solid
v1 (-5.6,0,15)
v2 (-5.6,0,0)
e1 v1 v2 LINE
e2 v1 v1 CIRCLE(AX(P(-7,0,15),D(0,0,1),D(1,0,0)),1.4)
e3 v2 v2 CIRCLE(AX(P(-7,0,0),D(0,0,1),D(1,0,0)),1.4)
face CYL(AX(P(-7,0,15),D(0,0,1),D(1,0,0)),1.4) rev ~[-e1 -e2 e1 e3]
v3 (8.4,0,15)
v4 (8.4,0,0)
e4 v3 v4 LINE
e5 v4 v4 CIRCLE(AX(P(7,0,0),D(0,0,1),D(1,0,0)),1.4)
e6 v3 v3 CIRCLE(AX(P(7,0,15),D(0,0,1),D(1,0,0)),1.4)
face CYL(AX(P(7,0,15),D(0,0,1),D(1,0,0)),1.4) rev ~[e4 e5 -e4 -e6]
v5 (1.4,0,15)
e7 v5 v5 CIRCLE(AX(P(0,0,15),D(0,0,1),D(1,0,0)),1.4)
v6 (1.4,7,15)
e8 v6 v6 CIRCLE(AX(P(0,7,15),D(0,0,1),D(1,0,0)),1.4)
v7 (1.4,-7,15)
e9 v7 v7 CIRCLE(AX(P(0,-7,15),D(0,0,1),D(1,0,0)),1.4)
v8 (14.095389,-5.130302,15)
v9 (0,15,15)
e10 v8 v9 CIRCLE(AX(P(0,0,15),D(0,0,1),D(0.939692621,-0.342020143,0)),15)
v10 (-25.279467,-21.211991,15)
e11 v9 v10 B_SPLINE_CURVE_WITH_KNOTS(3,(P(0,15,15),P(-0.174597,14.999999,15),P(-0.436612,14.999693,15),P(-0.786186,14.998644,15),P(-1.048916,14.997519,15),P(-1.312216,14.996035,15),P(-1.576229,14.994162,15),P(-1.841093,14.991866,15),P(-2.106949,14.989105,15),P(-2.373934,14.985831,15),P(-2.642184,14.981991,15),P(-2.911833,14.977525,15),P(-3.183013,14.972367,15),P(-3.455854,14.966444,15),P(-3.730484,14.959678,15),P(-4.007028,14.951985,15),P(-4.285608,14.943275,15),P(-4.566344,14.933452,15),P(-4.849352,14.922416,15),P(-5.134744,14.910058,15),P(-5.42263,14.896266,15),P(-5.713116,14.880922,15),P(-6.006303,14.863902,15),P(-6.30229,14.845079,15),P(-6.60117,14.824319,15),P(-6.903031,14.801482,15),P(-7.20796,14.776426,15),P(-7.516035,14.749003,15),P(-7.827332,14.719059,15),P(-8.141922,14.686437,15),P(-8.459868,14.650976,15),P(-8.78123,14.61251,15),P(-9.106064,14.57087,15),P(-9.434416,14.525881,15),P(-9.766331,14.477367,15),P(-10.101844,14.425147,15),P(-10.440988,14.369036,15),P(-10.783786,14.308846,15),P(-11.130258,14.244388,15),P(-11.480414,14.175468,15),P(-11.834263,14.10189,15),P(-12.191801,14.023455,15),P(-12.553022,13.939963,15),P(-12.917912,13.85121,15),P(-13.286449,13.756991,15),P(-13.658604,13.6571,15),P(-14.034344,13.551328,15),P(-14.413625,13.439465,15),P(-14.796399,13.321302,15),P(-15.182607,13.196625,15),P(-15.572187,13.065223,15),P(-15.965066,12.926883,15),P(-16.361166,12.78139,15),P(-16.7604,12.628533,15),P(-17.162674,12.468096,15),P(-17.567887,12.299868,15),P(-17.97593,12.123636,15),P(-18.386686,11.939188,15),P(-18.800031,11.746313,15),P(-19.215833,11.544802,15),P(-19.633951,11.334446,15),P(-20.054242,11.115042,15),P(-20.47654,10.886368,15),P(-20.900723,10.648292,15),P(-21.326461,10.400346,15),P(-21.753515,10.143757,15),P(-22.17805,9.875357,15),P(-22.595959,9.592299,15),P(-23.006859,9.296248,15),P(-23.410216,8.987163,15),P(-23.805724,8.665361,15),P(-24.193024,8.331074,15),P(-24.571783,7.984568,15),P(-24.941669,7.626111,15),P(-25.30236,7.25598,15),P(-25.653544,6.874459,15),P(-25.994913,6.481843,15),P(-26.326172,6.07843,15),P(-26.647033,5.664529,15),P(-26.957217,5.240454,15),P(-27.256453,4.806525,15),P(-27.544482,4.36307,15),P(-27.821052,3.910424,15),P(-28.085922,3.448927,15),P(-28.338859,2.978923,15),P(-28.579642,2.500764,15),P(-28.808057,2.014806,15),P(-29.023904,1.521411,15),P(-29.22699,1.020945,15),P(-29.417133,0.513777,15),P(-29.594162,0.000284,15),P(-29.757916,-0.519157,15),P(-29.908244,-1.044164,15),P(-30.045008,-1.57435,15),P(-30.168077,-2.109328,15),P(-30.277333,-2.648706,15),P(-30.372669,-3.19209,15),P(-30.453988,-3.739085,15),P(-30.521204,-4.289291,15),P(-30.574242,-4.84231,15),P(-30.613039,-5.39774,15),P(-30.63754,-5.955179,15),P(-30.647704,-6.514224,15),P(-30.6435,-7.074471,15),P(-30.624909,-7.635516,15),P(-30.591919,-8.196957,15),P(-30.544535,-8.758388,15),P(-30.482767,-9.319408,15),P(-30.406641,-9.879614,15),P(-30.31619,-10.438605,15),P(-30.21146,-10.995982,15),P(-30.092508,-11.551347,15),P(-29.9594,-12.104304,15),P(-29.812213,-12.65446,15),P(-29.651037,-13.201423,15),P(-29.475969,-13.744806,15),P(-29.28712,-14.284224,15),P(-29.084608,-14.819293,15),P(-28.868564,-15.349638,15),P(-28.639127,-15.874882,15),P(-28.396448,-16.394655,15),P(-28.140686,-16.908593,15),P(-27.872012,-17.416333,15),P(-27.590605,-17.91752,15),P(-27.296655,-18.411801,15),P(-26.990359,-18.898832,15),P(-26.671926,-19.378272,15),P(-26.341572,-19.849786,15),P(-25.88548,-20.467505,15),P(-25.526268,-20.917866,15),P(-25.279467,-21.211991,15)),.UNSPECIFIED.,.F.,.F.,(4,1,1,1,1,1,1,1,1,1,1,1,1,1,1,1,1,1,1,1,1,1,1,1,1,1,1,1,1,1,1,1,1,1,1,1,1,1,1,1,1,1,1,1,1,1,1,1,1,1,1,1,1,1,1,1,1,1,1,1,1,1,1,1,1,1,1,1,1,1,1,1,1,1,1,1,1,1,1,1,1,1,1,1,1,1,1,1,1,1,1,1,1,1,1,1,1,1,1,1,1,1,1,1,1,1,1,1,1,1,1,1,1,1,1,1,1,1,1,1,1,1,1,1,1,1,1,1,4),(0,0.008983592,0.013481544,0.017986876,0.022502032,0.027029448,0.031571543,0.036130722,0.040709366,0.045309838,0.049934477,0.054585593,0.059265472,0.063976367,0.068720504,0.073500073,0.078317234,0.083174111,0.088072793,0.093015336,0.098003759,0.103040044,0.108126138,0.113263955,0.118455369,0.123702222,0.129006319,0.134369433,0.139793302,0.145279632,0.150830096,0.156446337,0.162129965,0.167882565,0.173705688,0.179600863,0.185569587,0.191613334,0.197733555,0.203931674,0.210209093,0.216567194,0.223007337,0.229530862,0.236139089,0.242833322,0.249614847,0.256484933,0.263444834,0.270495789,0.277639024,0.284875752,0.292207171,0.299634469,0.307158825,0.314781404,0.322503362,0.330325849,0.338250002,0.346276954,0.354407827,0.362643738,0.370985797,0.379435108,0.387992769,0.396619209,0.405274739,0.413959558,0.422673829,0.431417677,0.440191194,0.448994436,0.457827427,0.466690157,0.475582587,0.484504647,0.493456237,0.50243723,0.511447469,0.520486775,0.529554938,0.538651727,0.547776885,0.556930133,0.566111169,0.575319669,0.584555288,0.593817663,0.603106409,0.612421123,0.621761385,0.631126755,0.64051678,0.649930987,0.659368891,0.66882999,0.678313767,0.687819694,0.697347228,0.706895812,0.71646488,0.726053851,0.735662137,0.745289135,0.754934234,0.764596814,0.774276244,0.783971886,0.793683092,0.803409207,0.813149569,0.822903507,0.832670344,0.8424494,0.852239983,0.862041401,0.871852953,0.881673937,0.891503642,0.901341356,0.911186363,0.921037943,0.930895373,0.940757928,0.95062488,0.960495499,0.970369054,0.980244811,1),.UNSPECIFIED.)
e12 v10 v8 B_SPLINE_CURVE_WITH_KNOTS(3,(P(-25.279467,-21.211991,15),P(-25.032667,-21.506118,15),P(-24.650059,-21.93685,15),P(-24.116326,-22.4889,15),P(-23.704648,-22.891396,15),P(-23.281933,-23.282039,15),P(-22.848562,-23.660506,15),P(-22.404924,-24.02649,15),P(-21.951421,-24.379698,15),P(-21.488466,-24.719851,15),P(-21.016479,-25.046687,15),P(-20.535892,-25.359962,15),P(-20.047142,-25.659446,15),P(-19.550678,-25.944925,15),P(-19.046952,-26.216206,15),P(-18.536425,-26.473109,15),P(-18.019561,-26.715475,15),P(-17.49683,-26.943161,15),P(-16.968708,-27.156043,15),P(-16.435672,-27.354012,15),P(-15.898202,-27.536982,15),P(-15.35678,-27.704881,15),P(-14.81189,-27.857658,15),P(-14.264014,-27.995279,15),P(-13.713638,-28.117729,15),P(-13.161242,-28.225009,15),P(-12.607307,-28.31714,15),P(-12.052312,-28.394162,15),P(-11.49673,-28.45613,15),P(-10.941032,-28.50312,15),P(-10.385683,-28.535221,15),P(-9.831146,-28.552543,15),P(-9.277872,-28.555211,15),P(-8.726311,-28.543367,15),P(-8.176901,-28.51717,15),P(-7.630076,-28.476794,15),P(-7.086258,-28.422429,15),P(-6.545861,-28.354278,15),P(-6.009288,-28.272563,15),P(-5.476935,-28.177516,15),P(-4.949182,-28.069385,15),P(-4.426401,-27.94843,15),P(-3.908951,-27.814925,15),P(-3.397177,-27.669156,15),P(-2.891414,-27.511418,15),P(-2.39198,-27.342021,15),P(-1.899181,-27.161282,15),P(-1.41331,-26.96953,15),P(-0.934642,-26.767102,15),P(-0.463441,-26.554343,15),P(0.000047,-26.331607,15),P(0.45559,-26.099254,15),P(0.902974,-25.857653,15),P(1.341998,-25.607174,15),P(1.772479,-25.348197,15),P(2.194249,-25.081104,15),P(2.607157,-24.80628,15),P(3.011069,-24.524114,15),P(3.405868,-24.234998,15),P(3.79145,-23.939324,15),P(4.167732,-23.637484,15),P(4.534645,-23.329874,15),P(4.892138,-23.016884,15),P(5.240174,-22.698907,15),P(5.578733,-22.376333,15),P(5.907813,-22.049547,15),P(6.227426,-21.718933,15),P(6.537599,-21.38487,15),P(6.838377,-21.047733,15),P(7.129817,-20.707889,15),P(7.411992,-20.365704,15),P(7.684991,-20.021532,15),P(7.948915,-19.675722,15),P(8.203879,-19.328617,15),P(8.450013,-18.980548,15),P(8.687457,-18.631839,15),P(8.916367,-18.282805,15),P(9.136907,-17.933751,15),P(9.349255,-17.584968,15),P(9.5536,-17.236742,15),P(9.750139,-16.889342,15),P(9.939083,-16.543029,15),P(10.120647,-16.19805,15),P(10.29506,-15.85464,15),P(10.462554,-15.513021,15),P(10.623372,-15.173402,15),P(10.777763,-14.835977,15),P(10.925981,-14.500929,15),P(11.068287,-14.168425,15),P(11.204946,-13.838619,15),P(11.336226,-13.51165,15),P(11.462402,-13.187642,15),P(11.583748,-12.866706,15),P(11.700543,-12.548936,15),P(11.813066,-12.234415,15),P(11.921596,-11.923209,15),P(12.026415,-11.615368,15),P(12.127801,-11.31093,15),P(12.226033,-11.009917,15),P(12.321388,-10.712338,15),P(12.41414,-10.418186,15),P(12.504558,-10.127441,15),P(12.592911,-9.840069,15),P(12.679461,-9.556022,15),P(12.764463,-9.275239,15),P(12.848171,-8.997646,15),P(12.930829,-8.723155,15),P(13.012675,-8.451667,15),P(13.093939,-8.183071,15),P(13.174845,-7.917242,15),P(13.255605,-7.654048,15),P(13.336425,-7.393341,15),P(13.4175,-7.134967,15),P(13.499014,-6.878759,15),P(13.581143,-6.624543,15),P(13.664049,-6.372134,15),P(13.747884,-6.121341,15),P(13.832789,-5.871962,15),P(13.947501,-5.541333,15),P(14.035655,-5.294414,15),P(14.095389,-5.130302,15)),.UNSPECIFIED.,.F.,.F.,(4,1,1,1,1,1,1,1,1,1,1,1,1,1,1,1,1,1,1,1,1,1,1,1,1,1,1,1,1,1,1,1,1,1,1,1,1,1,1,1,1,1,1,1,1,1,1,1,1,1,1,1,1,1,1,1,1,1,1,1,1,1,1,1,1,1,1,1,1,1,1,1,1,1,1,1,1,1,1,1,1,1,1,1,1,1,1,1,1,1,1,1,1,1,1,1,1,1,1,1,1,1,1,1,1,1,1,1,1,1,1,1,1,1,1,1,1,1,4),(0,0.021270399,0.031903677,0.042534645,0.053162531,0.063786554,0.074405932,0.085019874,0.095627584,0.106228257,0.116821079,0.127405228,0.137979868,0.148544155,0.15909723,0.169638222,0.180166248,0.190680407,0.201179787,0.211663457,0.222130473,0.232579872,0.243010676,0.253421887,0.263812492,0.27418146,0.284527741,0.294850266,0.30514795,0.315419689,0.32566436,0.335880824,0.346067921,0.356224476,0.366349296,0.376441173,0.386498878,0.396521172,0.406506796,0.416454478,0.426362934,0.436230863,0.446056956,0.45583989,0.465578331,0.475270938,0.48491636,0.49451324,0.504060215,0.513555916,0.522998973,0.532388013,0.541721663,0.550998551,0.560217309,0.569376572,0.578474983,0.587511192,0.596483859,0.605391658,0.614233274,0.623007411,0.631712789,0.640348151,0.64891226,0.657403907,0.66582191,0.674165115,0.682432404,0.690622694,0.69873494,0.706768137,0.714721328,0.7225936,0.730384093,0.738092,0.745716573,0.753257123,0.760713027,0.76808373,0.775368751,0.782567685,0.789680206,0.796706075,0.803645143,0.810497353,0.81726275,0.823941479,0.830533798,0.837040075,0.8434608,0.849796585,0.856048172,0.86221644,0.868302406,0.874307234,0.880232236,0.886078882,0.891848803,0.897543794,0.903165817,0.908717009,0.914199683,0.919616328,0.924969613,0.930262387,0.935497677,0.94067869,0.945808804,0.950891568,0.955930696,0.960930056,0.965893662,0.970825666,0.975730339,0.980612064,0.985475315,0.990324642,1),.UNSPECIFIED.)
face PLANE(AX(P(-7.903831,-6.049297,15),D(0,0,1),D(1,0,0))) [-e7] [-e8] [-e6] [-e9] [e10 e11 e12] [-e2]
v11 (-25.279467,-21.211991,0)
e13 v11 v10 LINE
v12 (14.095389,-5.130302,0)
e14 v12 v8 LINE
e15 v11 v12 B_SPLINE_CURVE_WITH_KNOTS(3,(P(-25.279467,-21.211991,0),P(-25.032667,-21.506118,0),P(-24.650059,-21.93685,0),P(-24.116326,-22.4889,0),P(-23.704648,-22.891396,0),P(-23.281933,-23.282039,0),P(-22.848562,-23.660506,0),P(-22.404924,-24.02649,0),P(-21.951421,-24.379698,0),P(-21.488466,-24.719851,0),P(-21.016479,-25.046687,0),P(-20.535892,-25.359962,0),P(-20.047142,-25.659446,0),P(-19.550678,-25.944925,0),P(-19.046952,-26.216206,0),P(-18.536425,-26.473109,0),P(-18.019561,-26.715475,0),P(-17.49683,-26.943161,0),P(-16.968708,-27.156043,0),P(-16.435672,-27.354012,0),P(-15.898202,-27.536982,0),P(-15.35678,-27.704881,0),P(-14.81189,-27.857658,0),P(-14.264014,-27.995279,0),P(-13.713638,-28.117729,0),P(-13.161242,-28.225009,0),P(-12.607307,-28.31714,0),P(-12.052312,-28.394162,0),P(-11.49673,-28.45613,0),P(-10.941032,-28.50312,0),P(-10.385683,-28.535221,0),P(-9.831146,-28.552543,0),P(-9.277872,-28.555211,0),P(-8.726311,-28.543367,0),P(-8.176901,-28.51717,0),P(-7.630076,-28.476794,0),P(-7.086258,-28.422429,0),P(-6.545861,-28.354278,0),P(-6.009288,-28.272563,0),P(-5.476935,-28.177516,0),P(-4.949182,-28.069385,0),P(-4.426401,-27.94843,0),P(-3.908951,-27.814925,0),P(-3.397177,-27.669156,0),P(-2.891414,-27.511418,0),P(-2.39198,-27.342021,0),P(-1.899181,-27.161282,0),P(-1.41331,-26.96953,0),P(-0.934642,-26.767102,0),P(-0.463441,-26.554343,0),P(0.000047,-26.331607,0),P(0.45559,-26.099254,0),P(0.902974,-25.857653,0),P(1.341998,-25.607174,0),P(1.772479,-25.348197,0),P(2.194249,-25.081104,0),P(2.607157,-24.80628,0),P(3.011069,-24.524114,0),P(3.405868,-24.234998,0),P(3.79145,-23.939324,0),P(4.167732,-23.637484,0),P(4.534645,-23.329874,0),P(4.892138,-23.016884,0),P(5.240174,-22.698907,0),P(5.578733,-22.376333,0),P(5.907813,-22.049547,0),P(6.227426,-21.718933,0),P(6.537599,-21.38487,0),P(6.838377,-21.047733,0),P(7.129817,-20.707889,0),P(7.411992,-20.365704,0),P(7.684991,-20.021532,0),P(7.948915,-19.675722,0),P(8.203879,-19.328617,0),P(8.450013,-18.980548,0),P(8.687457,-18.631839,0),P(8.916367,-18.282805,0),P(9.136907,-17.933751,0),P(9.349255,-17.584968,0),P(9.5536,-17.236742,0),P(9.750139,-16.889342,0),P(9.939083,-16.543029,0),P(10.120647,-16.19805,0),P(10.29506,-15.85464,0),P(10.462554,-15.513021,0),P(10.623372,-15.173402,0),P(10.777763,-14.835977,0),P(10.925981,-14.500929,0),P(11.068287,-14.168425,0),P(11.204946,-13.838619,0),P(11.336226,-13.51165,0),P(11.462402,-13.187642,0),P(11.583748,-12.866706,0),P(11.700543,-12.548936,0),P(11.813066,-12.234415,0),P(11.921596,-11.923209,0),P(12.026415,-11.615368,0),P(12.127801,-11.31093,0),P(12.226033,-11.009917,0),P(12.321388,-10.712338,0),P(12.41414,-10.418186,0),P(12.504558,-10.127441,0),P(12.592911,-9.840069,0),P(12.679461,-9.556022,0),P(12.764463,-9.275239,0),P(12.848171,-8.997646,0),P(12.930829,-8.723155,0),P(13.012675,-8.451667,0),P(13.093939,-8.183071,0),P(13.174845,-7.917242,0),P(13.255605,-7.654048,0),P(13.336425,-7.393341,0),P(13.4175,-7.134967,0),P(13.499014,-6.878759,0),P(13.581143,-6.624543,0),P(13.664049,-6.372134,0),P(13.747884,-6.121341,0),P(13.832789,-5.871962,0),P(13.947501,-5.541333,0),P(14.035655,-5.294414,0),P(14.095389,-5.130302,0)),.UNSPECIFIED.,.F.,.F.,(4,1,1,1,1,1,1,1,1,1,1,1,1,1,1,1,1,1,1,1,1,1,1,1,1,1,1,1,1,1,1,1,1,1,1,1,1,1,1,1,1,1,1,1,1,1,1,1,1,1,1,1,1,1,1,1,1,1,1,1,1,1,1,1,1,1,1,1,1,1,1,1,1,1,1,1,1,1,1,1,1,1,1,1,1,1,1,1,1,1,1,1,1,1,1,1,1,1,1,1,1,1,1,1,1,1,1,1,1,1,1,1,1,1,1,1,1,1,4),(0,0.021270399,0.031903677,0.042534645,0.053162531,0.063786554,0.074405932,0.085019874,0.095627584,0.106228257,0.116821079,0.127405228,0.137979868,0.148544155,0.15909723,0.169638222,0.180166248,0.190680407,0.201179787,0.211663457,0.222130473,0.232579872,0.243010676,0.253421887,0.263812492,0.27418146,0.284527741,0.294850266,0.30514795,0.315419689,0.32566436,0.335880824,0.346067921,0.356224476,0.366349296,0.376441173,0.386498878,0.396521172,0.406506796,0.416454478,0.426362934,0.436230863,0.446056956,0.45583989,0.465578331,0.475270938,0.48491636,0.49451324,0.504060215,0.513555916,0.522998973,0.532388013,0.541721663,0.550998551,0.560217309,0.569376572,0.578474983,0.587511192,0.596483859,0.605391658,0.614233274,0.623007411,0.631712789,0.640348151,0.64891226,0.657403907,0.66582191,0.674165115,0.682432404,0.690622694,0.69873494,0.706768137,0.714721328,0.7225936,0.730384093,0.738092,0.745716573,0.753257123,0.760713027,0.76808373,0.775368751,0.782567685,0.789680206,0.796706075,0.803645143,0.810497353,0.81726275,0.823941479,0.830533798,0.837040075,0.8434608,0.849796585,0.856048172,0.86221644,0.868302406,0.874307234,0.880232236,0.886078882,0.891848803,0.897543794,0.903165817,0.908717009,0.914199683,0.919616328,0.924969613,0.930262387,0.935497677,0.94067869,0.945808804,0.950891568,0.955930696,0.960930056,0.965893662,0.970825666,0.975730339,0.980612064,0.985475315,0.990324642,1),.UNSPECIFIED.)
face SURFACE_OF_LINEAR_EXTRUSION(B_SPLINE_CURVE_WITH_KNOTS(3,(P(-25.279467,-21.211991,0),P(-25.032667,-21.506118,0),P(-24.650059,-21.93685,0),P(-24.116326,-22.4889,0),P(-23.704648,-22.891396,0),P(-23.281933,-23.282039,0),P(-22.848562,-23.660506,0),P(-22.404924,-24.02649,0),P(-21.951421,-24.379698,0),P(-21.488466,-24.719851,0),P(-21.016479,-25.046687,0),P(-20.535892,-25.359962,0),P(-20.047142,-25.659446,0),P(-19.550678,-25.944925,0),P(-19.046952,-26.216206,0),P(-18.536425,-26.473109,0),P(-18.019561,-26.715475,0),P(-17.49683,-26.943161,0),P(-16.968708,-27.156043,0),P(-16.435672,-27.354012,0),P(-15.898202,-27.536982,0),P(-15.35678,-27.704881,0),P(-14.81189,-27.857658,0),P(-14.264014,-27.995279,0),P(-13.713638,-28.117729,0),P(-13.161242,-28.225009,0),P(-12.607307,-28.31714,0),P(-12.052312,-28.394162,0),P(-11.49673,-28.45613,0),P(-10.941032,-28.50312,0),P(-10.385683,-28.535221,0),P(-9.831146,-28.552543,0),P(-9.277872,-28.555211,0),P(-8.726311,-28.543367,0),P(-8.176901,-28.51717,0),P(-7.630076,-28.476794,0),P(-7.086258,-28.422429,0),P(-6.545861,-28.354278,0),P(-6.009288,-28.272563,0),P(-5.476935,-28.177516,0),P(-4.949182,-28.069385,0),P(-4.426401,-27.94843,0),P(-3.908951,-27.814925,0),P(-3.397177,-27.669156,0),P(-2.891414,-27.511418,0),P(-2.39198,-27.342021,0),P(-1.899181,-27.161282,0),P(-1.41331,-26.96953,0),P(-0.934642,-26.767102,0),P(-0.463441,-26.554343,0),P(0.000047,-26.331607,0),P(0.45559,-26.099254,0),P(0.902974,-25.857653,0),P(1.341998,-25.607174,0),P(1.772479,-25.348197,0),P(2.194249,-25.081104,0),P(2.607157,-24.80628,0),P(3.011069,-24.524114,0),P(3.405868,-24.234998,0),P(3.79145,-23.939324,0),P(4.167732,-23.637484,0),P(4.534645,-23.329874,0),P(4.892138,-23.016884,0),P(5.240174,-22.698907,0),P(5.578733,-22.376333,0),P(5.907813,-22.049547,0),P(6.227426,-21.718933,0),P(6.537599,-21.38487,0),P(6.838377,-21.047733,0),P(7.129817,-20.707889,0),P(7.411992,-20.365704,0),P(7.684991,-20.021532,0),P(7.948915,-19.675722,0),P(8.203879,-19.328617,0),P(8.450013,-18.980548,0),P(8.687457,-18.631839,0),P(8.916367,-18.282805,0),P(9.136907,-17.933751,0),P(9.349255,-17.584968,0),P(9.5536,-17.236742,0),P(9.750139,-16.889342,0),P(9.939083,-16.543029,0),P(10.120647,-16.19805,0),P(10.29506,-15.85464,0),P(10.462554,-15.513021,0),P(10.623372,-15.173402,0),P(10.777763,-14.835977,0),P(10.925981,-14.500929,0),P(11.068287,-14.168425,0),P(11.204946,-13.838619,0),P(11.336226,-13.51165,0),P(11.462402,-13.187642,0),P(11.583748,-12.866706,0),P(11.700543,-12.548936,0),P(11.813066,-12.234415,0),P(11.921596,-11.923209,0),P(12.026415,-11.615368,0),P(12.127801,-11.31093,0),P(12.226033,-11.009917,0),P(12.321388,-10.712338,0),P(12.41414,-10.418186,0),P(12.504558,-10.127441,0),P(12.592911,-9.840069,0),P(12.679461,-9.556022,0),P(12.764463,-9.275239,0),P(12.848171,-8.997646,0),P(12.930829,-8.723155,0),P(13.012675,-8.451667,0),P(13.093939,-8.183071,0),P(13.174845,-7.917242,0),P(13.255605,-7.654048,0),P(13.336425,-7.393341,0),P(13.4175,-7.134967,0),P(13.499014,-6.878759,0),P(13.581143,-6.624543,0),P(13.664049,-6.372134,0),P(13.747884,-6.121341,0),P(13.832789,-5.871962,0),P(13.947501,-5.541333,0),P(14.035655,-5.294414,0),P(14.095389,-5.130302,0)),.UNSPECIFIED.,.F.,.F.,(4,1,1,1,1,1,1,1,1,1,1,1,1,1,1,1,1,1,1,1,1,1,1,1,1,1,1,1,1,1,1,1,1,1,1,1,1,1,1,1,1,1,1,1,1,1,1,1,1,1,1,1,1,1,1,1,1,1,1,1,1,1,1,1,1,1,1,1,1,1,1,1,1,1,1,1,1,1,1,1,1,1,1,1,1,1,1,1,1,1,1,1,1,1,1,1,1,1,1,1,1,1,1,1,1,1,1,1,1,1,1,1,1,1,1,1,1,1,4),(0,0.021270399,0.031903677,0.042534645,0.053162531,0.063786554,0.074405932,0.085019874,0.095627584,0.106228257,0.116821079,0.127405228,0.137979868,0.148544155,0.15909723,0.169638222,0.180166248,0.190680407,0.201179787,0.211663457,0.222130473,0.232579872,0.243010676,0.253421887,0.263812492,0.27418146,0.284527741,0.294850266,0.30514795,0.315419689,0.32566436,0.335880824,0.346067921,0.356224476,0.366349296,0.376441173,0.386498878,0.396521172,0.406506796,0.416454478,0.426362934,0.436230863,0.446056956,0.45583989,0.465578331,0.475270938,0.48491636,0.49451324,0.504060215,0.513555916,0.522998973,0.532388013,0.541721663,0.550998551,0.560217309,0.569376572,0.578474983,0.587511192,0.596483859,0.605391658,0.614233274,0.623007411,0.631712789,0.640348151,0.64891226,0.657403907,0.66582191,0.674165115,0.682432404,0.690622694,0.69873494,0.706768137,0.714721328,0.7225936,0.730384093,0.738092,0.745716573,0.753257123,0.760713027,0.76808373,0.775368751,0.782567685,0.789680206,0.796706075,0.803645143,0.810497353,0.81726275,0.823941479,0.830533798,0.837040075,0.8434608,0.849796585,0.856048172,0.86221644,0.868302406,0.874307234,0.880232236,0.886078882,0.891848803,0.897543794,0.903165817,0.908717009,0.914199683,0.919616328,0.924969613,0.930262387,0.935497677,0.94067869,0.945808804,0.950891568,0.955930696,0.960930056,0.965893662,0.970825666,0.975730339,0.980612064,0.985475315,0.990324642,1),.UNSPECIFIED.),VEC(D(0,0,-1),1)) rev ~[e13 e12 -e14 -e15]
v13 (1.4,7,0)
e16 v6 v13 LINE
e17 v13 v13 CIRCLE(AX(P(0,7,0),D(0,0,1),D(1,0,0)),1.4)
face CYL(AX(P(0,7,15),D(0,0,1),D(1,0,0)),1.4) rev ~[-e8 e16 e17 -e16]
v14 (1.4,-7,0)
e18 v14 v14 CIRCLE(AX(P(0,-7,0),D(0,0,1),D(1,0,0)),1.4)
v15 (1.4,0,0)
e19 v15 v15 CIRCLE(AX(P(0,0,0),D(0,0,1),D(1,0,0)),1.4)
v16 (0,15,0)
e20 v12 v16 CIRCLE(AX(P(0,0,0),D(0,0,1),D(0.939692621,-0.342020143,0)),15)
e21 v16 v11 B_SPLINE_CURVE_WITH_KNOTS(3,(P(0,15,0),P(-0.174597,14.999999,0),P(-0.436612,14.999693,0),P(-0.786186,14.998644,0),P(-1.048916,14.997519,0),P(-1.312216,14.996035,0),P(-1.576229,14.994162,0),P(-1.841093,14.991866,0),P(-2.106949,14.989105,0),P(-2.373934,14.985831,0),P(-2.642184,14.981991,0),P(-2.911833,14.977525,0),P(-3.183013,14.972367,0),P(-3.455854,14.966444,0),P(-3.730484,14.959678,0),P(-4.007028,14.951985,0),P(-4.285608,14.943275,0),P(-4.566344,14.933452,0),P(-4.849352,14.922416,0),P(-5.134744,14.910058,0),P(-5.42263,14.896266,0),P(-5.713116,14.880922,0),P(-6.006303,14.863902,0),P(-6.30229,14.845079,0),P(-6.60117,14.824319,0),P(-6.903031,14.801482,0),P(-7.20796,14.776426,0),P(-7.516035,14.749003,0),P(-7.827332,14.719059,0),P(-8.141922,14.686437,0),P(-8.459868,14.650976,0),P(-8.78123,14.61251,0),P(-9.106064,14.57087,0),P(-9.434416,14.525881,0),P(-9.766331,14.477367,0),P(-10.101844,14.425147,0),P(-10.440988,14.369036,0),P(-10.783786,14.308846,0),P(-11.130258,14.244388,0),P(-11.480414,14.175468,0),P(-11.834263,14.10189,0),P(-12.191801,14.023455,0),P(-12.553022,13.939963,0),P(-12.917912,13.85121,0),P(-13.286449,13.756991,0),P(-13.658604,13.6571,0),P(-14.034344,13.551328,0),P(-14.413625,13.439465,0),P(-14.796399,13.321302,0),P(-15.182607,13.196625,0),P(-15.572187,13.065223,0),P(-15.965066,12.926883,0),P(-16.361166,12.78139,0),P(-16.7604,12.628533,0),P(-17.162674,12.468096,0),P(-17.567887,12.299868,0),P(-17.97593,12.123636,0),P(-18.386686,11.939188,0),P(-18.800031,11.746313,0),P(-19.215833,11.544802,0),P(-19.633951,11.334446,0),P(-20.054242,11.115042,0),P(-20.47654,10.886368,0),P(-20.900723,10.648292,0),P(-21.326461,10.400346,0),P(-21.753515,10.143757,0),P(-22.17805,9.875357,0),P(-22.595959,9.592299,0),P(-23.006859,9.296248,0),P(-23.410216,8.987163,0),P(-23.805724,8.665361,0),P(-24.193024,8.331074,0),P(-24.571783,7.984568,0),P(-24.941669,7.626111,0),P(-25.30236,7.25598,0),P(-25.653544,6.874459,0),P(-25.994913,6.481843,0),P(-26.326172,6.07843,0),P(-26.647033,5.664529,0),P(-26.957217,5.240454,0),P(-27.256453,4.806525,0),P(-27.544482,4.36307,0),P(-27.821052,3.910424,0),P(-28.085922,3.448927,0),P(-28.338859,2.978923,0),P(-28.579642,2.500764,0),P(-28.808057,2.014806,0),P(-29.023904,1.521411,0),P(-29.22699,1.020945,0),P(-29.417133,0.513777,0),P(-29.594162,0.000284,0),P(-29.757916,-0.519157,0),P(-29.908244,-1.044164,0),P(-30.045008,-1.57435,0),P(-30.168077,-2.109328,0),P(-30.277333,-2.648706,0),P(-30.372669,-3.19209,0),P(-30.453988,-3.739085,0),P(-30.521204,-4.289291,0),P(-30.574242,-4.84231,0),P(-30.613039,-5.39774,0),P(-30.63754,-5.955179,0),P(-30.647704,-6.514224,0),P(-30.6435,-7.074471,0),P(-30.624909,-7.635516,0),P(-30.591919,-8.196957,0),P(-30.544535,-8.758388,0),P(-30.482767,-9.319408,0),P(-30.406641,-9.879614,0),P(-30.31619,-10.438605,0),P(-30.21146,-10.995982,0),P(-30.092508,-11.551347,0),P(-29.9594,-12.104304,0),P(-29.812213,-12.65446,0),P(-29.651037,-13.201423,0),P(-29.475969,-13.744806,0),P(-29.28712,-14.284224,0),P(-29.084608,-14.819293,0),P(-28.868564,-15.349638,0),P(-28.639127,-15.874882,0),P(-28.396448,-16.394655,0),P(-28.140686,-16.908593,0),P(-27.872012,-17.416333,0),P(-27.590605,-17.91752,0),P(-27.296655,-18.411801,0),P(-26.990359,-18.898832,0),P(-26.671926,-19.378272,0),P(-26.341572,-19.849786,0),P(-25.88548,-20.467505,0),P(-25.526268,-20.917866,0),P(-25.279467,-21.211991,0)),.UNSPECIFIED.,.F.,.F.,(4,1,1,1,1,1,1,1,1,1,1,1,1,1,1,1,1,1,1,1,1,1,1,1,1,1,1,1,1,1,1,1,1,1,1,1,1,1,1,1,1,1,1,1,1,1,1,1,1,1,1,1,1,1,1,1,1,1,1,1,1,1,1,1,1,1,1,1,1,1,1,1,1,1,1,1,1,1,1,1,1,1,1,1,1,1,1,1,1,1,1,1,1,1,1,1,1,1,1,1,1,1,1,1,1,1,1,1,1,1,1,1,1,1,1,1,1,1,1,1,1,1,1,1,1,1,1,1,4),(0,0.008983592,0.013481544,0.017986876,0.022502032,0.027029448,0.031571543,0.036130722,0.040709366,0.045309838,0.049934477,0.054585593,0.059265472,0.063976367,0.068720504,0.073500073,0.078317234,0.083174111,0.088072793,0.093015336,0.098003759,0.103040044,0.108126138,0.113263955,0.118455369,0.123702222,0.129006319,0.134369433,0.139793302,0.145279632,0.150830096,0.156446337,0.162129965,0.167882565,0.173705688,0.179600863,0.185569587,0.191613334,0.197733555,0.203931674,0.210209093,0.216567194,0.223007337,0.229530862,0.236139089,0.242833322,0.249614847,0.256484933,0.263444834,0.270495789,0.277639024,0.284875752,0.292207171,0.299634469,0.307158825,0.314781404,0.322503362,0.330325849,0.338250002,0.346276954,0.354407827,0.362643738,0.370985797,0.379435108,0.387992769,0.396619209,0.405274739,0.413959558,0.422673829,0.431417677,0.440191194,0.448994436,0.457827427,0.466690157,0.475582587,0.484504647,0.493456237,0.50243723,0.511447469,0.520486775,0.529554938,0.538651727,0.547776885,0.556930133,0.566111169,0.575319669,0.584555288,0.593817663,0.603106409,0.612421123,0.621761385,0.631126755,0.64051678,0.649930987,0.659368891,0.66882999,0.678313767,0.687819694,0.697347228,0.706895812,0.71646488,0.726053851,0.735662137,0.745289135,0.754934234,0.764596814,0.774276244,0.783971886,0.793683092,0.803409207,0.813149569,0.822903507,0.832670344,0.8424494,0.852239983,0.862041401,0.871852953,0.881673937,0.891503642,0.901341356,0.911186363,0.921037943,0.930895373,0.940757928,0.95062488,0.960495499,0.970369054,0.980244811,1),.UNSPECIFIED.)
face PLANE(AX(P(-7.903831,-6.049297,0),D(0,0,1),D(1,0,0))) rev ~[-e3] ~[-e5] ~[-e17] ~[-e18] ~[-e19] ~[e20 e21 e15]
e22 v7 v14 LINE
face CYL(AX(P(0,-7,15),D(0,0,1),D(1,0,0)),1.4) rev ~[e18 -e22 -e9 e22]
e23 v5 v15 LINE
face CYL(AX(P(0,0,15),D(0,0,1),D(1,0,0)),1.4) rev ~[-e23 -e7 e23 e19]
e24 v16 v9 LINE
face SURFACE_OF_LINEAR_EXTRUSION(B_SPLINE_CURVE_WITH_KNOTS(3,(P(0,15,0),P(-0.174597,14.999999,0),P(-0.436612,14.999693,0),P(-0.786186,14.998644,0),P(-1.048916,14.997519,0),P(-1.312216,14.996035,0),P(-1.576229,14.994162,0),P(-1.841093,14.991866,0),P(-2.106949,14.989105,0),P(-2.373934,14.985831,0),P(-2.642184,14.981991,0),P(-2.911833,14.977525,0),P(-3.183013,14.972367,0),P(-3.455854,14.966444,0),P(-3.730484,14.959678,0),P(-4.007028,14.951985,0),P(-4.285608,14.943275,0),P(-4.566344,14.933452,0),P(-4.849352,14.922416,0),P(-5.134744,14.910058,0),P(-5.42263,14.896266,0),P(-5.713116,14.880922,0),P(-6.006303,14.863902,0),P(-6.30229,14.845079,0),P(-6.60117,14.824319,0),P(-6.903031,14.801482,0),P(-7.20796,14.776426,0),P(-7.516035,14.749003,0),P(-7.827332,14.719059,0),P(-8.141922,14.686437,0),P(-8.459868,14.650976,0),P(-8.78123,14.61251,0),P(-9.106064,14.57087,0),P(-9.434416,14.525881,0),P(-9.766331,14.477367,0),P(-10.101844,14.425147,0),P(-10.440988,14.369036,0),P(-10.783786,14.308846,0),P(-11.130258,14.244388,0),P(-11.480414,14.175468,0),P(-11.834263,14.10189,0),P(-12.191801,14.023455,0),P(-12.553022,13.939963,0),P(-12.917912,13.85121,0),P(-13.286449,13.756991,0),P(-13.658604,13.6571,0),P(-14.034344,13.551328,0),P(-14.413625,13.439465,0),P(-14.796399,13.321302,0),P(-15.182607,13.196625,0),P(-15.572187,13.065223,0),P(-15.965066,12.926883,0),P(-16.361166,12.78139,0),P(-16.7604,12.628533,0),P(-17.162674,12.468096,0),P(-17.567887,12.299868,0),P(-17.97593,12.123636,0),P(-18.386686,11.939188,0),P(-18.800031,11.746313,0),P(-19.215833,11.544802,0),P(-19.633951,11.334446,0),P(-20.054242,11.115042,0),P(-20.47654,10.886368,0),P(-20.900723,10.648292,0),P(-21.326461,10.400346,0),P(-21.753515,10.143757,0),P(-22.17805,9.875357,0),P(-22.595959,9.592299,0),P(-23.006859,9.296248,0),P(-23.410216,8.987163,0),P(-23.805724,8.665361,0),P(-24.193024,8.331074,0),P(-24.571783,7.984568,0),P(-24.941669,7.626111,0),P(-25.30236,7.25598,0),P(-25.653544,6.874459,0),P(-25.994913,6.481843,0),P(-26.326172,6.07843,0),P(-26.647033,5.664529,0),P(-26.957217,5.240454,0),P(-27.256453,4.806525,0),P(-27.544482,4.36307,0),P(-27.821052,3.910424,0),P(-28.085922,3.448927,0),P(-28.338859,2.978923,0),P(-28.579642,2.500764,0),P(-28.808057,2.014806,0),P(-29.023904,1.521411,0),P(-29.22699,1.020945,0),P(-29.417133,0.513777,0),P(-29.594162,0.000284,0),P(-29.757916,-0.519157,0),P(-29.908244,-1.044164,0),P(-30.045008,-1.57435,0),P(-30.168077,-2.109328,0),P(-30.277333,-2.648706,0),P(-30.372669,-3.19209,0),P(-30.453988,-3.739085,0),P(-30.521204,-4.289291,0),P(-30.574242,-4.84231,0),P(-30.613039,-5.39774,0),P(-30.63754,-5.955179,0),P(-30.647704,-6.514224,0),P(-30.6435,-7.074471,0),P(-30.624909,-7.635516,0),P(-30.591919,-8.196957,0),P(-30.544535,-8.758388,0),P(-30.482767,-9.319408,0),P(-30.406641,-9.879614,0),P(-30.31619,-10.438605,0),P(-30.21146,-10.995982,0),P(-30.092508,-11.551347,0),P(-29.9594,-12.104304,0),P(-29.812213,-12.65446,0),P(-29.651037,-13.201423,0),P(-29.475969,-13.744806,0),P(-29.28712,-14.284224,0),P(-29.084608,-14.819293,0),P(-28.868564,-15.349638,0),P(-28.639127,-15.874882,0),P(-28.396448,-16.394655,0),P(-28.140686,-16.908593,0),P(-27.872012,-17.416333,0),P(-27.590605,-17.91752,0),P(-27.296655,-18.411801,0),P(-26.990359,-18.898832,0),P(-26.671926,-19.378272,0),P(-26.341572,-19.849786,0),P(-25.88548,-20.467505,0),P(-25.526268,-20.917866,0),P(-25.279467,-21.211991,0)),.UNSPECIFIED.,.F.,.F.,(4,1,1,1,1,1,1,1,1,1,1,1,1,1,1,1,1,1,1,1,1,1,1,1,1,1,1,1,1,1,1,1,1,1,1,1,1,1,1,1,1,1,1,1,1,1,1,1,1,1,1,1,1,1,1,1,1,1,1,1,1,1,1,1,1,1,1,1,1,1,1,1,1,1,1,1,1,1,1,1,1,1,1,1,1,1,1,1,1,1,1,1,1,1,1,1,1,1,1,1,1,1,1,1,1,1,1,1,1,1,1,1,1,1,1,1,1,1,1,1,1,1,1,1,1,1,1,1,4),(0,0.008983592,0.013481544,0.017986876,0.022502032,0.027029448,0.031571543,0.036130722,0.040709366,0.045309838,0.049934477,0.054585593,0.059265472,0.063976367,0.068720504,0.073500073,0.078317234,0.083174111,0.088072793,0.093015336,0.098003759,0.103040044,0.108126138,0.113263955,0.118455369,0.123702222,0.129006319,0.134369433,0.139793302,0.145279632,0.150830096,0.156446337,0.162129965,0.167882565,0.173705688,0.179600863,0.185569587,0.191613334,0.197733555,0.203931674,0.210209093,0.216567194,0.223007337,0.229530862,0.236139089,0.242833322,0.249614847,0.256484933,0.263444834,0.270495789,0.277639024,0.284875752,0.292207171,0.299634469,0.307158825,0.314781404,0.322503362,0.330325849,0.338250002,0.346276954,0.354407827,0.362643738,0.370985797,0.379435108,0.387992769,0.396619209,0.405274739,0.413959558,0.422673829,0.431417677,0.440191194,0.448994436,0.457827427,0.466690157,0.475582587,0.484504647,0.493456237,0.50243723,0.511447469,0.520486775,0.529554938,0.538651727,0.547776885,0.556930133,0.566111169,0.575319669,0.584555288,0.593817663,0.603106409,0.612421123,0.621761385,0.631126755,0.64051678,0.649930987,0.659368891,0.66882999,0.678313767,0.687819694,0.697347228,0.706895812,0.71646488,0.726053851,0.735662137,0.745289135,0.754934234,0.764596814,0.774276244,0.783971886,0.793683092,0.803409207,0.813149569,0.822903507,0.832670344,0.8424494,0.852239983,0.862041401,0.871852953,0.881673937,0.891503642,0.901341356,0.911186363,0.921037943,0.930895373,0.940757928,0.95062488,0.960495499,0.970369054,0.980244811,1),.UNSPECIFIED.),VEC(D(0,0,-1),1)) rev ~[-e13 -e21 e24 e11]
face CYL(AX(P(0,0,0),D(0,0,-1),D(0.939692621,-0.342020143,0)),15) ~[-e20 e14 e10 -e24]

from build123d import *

# Parameters (mm, degrees)
EXTRUDE_1_DEPTH     = 15
SKETCH_3_R          = 1.4
CUT_EXTRUDE_2_DEPTH = 45.491091955


with BuildPart() as part:
    # 草图1 → 凸台-拉伸1 (new body)
    with BuildSketch(Plane.XY):
        with BuildLine():
            ThreePointArc((14.095389312, -5.13030215), (12.287280664, 8.603646545), (0, 15))
            add(Edge.make_bspline(
                [(0, 15), (-0.174596768, 14.999999319), (-0.436611581, 14.999693042), (-0.786186323, 14.998643785), (-1.048915847, 14.997519085), (-1.312216235, 14.99603471), (-1.576228693, 14.994161918), (-1.84109342, 14.991865662), (-2.106949414, 14.989104591), (-2.373934268, 14.985831089), (-2.642183971, 14.981991319), (-2.911832716, 14.977525266), (-3.1830127, 14.972366794), (-3.455853932, 14.966443701), (-3.730484039, 14.959677782), (-4.007028071, 14.9519849), (-4.285608318, 14.943275054), (-4.566344116, 14.933452466), (-4.849351664, 14.922415656), (-5.134743838, 14.910057537), (-5.422630012, 14.896265505), (-5.713115875, 14.880921543), (-6.006303259, 14.863902316), (-6.302289959, 14.84507929), (-6.601169567, 14.824318836), (-6.903031299, 14.801482354), (-7.207959833, 14.776426392), (-7.516035146, 14.749002775), (-7.827332351, 14.719058736), (-8.141921549, 14.686437053), (-8.459867669, 14.650976187), (-8.781230323, 14.612510428), (-9.106063662, 14.570870045), (-9.434416233, 14.525881438), (-9.766330843, 14.477367292), (-10.101844426, 14.425146744), (-10.440987913, 14.36903554), (-10.783786108, 14.30884621), (-11.130257567, 14.244388236), (-11.480414483, 14.175468229), (-11.834262574, 14.101890107), (-12.191800976, 14.023455277), (-12.553022141, 13.939962822), (-12.917911738, 13.851209688), (-13.286448564, 13.756990875), (-13.658604451, 13.657099633), (-14.03434419, 13.551327657), (-14.413625446, 13.439465288), (-14.796398691, 13.321301714), (-15.182607133, 13.196625177), (-15.572186657, 13.065223175), (-15.965065767, 12.926882676), (-16.361165533, 12.781390325), (-16.760399548, 12.62853266), (-17.162673883, 12.468096321), (-17.567887059, 12.299868276), (-17.975930009, 12.12363602), (-18.386686074, 11.939187837), (-18.800030904, 11.746312879), (-19.21583277, 11.544801919), (-19.63395132, 11.334445536), (-20.054242271, 11.115042096), (-20.476539575, 10.886368472), (-20.900723293, 10.648292485), (-21.326461435, 10.400346233), (-21.753514654, 10.143757392), (-22.178049863, 9.87535726), (-22.595959424, 9.592299141), (-23.006858872, 9.296248411), (-23.410215858, 8.987163154), (-23.805723663, 8.665361009), (-24.19302422, 8.331073979), (-24.571782966, 7.984568061), (-24.94166894, 7.626110759), (-25.302360391, 7.255979562), (-25.65354351, 6.874459377), (-25.994913004, 6.481842935), (-26.326172169, 6.078430394), (-26.647033089, 5.664529144), (-26.957216795, 5.240453567), (-27.256453426, 4.80652479), (-27.544482381, 4.363070443), (-27.82105247, 3.910424411), (-28.085922052, 3.448926584), (-28.338859169, 2.978922599), (-28.579641679, 2.500763586), (-28.808057373, 2.014805906), (-29.023904095, 1.521410888), (-29.226989847, 1.020944566), (-29.417132895, 0.513777409), (-29.594161862, 0.000284053), (-29.757915818, -0.519156969), (-29.908244365, -1.044163505), (-30.045007708, -1.574350056), (-30.168076728, -2.109328051), (-30.277333041, -2.648706129), (-30.372669056, -3.192090415), (-30.453988019, -3.739084801), (-30.521204062, -4.289291227), (-30.574242228, -4.842309963), (-30.613038507, -5.39773989), (-30.637539851, -5.955178784), (-30.647704191, -6.514223598), (-30.643500444, -7.074470745), (-30.624908509, -7.63551638), (-30.591919266, -8.196956684), (-30.544534557, -8.758388145), (-30.48276717, -9.319407838), (-30.406640805, -9.879613709), (-30.316190047, -10.438604851), (-30.21146032, -10.995981785), (-30.092507839, -11.551346736), (-29.95939956, -12.104303912), (-29.812213112, -12.654459772), (-29.651036733, -13.201423307), (-29.475969194, -13.744806302), (-29.287119719, -14.284223615), (-29.084607895, -14.819293432), (-28.868563581, -15.349637541), (-28.639126801, -15.874881588), (-28.396447646, -16.394655341), (-28.140686152, -16.908592941), (-27.872012186, -17.416333158), (-27.590605319, -17.917519643), (-27.296654692, -18.411801174), (-26.990358881, -18.898831896), (-26.671925755, -19.378271573), (-26.341572303, -19.849785794), (-25.885480421, -20.467504768), (-25.526267712, -20.917866263), (-25.279466623, -21.21199112)],
                knots=[0, 0, 0, 0, 0.008983592, 0.013481544, 0.017986876, 0.022502032, 0.027029448, 0.031571543, 0.036130722, 0.040709366, 0.045309838, 0.049934477, 0.054585593, 0.059265472, 0.063976367, 0.068720504, 0.073500073, 0.078317234, 0.083174111, 0.088072793, 0.093015336, 0.098003759, 0.103040044, 0.108126138, 0.113263955, 0.118455369, 0.123702222, 0.129006319, 0.134369433, 0.139793302, 0.145279632, 0.150830096, 0.156446337, 0.162129965, 0.167882565, 0.173705688, 0.179600863, 0.185569587, 0.191613334, 0.197733555, 0.203931674, 0.210209093, 0.216567194, 0.223007337, 0.229530862, 0.236139089, 0.242833322, 0.249614847, 0.256484933, 0.263444834, 0.270495789, 0.277639024, 0.284875752, 0.292207171, 0.299634469, 0.307158825, 0.314781404, 0.322503362, 0.330325849, 0.338250002, 0.346276954, 0.354407827, 0.362643738, 0.370985797, 0.379435108, 0.387992769, 0.396619209, 0.405274739, 0.413959558, 0.422673829, 0.431417677, 0.440191194, 0.448994436, 0.457827427, 0.466690157, 0.475582587, 0.484504647, 0.493456237, 0.50243723, 0.511447469, 0.520486775, 0.529554938, 0.538651727, 0.547776885, 0.556930133, 0.566111169, 0.575319669, 0.584555288, 0.593817663, 0.603106409, 0.612421123, 0.621761385, 0.631126755, 0.64051678, 0.649930987, 0.659368891, 0.66882999, 0.678313767, 0.687819694, 0.697347228, 0.706895812, 0.71646488, 0.726053851, 0.735662137, 0.745289135, 0.754934234, 0.764596814, 0.774276244, 0.783971886, 0.793683092, 0.803409207, 0.813149569, 0.822903507, 0.832670344, 0.8424494, 0.852239983, 0.862041401, 0.871852953, 0.881673937, 0.891503642, 0.901341356, 0.911186363, 0.921037943, 0.930895373, 0.940757928, 0.95062488, 0.960495499, 0.970369054, 0.980244811, 1, 1, 1, 1], degree=3))
            add(Edge.make_bspline(
                [(-25.279466623, -21.21199112), (-25.03266702, -21.506118015), (-24.650058643, -21.936850324), (-24.116326131, -22.48889957), (-23.704647777, -22.89139552), (-23.281933222, -23.282038607), (-22.848561661, -23.660506241), (-22.404923763, -24.026490317), (-21.951421131, -24.379697722), (-21.48846567, -24.719850743), (-21.016478952, -25.046687464), (-20.535891561, -25.359962134), (-20.047142425, -25.659445508), (-19.550678137, -25.944925156), (-19.04695226, -26.216205747), (-18.536424623, -26.4731093), (-18.019560603, -26.715475403), (-17.496830406, -26.943161412), (-16.968708336, -27.156042604), (-16.435672059, -27.354012309), (-15.898201862, -27.536982008), (-15.35677991, -27.704881402), (-14.811889501, -27.857658441), (-14.264014323, -27.995279333), (-13.713637708, -28.117728512), (-13.161241887, -28.225008578), (-12.607307258, -28.317140209), (-12.052311649, -28.394162034), (-11.496729594, -28.456130483), (-10.941031611, -28.5031196), (-10.385683496, -28.535220833), (-9.831145623, -28.552542784), (-9.277872252, -28.555210939), (-8.726310862, -28.543367367), (-8.176901485, -28.517170386), (-7.630076062, -28.476794208), (-7.086257816, -28.422428554), (-6.545860639, -28.354278239), (-6.009288499, -28.272562744), (-5.476934872, -28.177515748), (-4.949182183, -28.069384646), (-4.426401286, -27.948430045), (-3.908950946, -27.814925234), (-3.397177365, -27.669155633), (-2.891413716, -27.511418228), (-2.391979716, -27.342020982), (-1.899181211, -27.161282232), (-1.413309805, -26.969530066), (-0.934642496, -26.767101692), (-0.463441361, -26.554342786), (4.6748e-05, -26.331606829), (0.455590466, -26.099254437), (0.902974156, -25.857652676), (1.341998114, -25.607174371), (1.77247875, -25.348197408), (2.194248731, -25.081104026), (2.607157097, -24.806280109), (3.011069352, -24.524114474), (3.405867507, -24.234998154), (3.791450116, -23.939323681), (4.167732256, -23.637484373), (4.534645494, -23.329873622), (4.892137816, -23.016884179), (5.240173528, -22.698907455), (5.578733117, -22.376332816), (5.907813101, -22.049546899), (6.22742583, -21.71893292), (6.537599266, -21.384870008), (6.838376738, -21.047732541), (7.129816662, -20.707889495), (7.411992235, -20.365703811), (7.684991105, -20.021531772), (7.948915008, -19.675722401), (8.20387939, -19.32861687), (8.450012994, -18.980547932), (8.687457427, -18.631839373), (8.916366703, -18.282805481), (9.136906768, -17.933750534), (9.349254998, -17.58496832), (9.553599678, -17.236741672), (9.750139466, -16.889342026), (9.939082834, -16.543029011), (10.120647493, -16.198050057), (10.295059808, -15.854640037), (10.462554187, -15.513020927), (10.623372469, -15.173401503), (10.777763289, -14.835977057), (10.925981441, -14.50092915), (11.068287227, -14.168425389), (11.204945795, -13.838619231), (11.336226478, -13.511649827), (11.462402118, -13.187641886), (11.583748391, -12.866705573), (11.70054313, -12.548936438), (11.813065642, -12.234415378), (11.921596028, -11.923208621), (12.026414502, -11.615367753), (12.127800711, -11.310929767), (12.226033064, -11.009917143), (12.321388061, -10.712337965), (12.414139626, -10.418186058), (12.504558455, -10.127441167), (12.592911364, -9.840069152), (12.679460654, -9.556022225), (12.76446348, -9.275239204), (12.848171238, -8.997645806), (12.93082896, -8.723154954), (13.01267473, -8.451667126), (13.093939106, -8.183070715), (13.174844564, -7.917242422), (13.255604965, -7.654047671), (13.336425025, -7.393341046), (13.417499824, -7.134966749), (13.49901432, -6.87875908), (13.581142893, -6.624542932), (13.664048917, -6.372134315), (13.747884322, -6.121340875), (13.832789331, -5.871962488), (13.947500586, -5.541332702), (14.035654827, -5.294414261), (14.095389312, -5.13030215)],
                knots=[0, 0, 0, 0, 0.021270399, 0.031903677, 0.042534645, 0.053162531, 0.063786554, 0.074405932, 0.085019874, 0.095627584, 0.106228257, 0.116821079, 0.127405228, 0.137979868, 0.148544155, 0.15909723, 0.169638222, 0.180166248, 0.190680407, 0.201179787, 0.211663457, 0.222130473, 0.232579872, 0.243010676, 0.253421887, 0.263812492, 0.27418146, 0.284527741, 0.294850266, 0.30514795, 0.315419689, 0.32566436, 0.335880824, 0.346067921, 0.356224476, 0.366349296, 0.376441173, 0.386498878, 0.396521172, 0.406506796, 0.416454478, 0.426362934, 0.436230863, 0.446056956, 0.45583989, 0.465578331, 0.475270938, 0.48491636, 0.49451324, 0.504060215, 0.513555916, 0.522998973, 0.532388013, 0.541721663, 0.550998551, 0.560217309, 0.569376572, 0.578474983, 0.587511192, 0.596483859, 0.605391658, 0.614233274, 0.623007411, 0.631712789, 0.640348151, 0.64891226, 0.657403907, 0.66582191, 0.674165115, 0.682432404, 0.690622694, 0.69873494, 0.706768137, 0.714721328, 0.7225936, 0.730384093, 0.738092, 0.745716573, 0.753257123, 0.760713027, 0.76808373, 0.775368751, 0.782567685, 0.789680206, 0.796706075, 0.803645143, 0.810497353, 0.81726275, 0.823941479, 0.830533798, 0.837040075, 0.8434608, 0.849796585, 0.856048172, 0.86221644, 0.868302406, 0.874307234, 0.880232236, 0.886078882, 0.891848803, 0.897543794, 0.903165817, 0.908717009, 0.914199683, 0.919616328, 0.924969613, 0.930262387, 0.935497677, 0.94067869, 0.945808804, 0.950891568, 0.955930696, 0.960930056, 0.965893662, 0.970825666, 0.975730339, 0.980612064, 0.985475315, 0.990324642, 1, 1, 1, 1], degree=3))
        make_face()
    extrude(amount=EXTRUDE_1_DEPTH)

    # 草图3 → 切除-拉伸2 (cut, through all)
    with BuildSketch(Plane.XY.offset(15)):
        Circle(SKETCH_3_R)
        with Locations((7, 0)):
            Circle(SKETCH_3_R)
        with Locations((0, -7)):
            Circle(SKETCH_3_R)
        with Locations((-7, 0)):
            Circle(SKETCH_3_R)
        with Locations((0, 7)):
            Circle(SKETCH_3_R)
    extrude(amount=-CUT_EXTRUDE_2_DEPTH, mode=Mode.SUBTRACT)


solid = part.part
